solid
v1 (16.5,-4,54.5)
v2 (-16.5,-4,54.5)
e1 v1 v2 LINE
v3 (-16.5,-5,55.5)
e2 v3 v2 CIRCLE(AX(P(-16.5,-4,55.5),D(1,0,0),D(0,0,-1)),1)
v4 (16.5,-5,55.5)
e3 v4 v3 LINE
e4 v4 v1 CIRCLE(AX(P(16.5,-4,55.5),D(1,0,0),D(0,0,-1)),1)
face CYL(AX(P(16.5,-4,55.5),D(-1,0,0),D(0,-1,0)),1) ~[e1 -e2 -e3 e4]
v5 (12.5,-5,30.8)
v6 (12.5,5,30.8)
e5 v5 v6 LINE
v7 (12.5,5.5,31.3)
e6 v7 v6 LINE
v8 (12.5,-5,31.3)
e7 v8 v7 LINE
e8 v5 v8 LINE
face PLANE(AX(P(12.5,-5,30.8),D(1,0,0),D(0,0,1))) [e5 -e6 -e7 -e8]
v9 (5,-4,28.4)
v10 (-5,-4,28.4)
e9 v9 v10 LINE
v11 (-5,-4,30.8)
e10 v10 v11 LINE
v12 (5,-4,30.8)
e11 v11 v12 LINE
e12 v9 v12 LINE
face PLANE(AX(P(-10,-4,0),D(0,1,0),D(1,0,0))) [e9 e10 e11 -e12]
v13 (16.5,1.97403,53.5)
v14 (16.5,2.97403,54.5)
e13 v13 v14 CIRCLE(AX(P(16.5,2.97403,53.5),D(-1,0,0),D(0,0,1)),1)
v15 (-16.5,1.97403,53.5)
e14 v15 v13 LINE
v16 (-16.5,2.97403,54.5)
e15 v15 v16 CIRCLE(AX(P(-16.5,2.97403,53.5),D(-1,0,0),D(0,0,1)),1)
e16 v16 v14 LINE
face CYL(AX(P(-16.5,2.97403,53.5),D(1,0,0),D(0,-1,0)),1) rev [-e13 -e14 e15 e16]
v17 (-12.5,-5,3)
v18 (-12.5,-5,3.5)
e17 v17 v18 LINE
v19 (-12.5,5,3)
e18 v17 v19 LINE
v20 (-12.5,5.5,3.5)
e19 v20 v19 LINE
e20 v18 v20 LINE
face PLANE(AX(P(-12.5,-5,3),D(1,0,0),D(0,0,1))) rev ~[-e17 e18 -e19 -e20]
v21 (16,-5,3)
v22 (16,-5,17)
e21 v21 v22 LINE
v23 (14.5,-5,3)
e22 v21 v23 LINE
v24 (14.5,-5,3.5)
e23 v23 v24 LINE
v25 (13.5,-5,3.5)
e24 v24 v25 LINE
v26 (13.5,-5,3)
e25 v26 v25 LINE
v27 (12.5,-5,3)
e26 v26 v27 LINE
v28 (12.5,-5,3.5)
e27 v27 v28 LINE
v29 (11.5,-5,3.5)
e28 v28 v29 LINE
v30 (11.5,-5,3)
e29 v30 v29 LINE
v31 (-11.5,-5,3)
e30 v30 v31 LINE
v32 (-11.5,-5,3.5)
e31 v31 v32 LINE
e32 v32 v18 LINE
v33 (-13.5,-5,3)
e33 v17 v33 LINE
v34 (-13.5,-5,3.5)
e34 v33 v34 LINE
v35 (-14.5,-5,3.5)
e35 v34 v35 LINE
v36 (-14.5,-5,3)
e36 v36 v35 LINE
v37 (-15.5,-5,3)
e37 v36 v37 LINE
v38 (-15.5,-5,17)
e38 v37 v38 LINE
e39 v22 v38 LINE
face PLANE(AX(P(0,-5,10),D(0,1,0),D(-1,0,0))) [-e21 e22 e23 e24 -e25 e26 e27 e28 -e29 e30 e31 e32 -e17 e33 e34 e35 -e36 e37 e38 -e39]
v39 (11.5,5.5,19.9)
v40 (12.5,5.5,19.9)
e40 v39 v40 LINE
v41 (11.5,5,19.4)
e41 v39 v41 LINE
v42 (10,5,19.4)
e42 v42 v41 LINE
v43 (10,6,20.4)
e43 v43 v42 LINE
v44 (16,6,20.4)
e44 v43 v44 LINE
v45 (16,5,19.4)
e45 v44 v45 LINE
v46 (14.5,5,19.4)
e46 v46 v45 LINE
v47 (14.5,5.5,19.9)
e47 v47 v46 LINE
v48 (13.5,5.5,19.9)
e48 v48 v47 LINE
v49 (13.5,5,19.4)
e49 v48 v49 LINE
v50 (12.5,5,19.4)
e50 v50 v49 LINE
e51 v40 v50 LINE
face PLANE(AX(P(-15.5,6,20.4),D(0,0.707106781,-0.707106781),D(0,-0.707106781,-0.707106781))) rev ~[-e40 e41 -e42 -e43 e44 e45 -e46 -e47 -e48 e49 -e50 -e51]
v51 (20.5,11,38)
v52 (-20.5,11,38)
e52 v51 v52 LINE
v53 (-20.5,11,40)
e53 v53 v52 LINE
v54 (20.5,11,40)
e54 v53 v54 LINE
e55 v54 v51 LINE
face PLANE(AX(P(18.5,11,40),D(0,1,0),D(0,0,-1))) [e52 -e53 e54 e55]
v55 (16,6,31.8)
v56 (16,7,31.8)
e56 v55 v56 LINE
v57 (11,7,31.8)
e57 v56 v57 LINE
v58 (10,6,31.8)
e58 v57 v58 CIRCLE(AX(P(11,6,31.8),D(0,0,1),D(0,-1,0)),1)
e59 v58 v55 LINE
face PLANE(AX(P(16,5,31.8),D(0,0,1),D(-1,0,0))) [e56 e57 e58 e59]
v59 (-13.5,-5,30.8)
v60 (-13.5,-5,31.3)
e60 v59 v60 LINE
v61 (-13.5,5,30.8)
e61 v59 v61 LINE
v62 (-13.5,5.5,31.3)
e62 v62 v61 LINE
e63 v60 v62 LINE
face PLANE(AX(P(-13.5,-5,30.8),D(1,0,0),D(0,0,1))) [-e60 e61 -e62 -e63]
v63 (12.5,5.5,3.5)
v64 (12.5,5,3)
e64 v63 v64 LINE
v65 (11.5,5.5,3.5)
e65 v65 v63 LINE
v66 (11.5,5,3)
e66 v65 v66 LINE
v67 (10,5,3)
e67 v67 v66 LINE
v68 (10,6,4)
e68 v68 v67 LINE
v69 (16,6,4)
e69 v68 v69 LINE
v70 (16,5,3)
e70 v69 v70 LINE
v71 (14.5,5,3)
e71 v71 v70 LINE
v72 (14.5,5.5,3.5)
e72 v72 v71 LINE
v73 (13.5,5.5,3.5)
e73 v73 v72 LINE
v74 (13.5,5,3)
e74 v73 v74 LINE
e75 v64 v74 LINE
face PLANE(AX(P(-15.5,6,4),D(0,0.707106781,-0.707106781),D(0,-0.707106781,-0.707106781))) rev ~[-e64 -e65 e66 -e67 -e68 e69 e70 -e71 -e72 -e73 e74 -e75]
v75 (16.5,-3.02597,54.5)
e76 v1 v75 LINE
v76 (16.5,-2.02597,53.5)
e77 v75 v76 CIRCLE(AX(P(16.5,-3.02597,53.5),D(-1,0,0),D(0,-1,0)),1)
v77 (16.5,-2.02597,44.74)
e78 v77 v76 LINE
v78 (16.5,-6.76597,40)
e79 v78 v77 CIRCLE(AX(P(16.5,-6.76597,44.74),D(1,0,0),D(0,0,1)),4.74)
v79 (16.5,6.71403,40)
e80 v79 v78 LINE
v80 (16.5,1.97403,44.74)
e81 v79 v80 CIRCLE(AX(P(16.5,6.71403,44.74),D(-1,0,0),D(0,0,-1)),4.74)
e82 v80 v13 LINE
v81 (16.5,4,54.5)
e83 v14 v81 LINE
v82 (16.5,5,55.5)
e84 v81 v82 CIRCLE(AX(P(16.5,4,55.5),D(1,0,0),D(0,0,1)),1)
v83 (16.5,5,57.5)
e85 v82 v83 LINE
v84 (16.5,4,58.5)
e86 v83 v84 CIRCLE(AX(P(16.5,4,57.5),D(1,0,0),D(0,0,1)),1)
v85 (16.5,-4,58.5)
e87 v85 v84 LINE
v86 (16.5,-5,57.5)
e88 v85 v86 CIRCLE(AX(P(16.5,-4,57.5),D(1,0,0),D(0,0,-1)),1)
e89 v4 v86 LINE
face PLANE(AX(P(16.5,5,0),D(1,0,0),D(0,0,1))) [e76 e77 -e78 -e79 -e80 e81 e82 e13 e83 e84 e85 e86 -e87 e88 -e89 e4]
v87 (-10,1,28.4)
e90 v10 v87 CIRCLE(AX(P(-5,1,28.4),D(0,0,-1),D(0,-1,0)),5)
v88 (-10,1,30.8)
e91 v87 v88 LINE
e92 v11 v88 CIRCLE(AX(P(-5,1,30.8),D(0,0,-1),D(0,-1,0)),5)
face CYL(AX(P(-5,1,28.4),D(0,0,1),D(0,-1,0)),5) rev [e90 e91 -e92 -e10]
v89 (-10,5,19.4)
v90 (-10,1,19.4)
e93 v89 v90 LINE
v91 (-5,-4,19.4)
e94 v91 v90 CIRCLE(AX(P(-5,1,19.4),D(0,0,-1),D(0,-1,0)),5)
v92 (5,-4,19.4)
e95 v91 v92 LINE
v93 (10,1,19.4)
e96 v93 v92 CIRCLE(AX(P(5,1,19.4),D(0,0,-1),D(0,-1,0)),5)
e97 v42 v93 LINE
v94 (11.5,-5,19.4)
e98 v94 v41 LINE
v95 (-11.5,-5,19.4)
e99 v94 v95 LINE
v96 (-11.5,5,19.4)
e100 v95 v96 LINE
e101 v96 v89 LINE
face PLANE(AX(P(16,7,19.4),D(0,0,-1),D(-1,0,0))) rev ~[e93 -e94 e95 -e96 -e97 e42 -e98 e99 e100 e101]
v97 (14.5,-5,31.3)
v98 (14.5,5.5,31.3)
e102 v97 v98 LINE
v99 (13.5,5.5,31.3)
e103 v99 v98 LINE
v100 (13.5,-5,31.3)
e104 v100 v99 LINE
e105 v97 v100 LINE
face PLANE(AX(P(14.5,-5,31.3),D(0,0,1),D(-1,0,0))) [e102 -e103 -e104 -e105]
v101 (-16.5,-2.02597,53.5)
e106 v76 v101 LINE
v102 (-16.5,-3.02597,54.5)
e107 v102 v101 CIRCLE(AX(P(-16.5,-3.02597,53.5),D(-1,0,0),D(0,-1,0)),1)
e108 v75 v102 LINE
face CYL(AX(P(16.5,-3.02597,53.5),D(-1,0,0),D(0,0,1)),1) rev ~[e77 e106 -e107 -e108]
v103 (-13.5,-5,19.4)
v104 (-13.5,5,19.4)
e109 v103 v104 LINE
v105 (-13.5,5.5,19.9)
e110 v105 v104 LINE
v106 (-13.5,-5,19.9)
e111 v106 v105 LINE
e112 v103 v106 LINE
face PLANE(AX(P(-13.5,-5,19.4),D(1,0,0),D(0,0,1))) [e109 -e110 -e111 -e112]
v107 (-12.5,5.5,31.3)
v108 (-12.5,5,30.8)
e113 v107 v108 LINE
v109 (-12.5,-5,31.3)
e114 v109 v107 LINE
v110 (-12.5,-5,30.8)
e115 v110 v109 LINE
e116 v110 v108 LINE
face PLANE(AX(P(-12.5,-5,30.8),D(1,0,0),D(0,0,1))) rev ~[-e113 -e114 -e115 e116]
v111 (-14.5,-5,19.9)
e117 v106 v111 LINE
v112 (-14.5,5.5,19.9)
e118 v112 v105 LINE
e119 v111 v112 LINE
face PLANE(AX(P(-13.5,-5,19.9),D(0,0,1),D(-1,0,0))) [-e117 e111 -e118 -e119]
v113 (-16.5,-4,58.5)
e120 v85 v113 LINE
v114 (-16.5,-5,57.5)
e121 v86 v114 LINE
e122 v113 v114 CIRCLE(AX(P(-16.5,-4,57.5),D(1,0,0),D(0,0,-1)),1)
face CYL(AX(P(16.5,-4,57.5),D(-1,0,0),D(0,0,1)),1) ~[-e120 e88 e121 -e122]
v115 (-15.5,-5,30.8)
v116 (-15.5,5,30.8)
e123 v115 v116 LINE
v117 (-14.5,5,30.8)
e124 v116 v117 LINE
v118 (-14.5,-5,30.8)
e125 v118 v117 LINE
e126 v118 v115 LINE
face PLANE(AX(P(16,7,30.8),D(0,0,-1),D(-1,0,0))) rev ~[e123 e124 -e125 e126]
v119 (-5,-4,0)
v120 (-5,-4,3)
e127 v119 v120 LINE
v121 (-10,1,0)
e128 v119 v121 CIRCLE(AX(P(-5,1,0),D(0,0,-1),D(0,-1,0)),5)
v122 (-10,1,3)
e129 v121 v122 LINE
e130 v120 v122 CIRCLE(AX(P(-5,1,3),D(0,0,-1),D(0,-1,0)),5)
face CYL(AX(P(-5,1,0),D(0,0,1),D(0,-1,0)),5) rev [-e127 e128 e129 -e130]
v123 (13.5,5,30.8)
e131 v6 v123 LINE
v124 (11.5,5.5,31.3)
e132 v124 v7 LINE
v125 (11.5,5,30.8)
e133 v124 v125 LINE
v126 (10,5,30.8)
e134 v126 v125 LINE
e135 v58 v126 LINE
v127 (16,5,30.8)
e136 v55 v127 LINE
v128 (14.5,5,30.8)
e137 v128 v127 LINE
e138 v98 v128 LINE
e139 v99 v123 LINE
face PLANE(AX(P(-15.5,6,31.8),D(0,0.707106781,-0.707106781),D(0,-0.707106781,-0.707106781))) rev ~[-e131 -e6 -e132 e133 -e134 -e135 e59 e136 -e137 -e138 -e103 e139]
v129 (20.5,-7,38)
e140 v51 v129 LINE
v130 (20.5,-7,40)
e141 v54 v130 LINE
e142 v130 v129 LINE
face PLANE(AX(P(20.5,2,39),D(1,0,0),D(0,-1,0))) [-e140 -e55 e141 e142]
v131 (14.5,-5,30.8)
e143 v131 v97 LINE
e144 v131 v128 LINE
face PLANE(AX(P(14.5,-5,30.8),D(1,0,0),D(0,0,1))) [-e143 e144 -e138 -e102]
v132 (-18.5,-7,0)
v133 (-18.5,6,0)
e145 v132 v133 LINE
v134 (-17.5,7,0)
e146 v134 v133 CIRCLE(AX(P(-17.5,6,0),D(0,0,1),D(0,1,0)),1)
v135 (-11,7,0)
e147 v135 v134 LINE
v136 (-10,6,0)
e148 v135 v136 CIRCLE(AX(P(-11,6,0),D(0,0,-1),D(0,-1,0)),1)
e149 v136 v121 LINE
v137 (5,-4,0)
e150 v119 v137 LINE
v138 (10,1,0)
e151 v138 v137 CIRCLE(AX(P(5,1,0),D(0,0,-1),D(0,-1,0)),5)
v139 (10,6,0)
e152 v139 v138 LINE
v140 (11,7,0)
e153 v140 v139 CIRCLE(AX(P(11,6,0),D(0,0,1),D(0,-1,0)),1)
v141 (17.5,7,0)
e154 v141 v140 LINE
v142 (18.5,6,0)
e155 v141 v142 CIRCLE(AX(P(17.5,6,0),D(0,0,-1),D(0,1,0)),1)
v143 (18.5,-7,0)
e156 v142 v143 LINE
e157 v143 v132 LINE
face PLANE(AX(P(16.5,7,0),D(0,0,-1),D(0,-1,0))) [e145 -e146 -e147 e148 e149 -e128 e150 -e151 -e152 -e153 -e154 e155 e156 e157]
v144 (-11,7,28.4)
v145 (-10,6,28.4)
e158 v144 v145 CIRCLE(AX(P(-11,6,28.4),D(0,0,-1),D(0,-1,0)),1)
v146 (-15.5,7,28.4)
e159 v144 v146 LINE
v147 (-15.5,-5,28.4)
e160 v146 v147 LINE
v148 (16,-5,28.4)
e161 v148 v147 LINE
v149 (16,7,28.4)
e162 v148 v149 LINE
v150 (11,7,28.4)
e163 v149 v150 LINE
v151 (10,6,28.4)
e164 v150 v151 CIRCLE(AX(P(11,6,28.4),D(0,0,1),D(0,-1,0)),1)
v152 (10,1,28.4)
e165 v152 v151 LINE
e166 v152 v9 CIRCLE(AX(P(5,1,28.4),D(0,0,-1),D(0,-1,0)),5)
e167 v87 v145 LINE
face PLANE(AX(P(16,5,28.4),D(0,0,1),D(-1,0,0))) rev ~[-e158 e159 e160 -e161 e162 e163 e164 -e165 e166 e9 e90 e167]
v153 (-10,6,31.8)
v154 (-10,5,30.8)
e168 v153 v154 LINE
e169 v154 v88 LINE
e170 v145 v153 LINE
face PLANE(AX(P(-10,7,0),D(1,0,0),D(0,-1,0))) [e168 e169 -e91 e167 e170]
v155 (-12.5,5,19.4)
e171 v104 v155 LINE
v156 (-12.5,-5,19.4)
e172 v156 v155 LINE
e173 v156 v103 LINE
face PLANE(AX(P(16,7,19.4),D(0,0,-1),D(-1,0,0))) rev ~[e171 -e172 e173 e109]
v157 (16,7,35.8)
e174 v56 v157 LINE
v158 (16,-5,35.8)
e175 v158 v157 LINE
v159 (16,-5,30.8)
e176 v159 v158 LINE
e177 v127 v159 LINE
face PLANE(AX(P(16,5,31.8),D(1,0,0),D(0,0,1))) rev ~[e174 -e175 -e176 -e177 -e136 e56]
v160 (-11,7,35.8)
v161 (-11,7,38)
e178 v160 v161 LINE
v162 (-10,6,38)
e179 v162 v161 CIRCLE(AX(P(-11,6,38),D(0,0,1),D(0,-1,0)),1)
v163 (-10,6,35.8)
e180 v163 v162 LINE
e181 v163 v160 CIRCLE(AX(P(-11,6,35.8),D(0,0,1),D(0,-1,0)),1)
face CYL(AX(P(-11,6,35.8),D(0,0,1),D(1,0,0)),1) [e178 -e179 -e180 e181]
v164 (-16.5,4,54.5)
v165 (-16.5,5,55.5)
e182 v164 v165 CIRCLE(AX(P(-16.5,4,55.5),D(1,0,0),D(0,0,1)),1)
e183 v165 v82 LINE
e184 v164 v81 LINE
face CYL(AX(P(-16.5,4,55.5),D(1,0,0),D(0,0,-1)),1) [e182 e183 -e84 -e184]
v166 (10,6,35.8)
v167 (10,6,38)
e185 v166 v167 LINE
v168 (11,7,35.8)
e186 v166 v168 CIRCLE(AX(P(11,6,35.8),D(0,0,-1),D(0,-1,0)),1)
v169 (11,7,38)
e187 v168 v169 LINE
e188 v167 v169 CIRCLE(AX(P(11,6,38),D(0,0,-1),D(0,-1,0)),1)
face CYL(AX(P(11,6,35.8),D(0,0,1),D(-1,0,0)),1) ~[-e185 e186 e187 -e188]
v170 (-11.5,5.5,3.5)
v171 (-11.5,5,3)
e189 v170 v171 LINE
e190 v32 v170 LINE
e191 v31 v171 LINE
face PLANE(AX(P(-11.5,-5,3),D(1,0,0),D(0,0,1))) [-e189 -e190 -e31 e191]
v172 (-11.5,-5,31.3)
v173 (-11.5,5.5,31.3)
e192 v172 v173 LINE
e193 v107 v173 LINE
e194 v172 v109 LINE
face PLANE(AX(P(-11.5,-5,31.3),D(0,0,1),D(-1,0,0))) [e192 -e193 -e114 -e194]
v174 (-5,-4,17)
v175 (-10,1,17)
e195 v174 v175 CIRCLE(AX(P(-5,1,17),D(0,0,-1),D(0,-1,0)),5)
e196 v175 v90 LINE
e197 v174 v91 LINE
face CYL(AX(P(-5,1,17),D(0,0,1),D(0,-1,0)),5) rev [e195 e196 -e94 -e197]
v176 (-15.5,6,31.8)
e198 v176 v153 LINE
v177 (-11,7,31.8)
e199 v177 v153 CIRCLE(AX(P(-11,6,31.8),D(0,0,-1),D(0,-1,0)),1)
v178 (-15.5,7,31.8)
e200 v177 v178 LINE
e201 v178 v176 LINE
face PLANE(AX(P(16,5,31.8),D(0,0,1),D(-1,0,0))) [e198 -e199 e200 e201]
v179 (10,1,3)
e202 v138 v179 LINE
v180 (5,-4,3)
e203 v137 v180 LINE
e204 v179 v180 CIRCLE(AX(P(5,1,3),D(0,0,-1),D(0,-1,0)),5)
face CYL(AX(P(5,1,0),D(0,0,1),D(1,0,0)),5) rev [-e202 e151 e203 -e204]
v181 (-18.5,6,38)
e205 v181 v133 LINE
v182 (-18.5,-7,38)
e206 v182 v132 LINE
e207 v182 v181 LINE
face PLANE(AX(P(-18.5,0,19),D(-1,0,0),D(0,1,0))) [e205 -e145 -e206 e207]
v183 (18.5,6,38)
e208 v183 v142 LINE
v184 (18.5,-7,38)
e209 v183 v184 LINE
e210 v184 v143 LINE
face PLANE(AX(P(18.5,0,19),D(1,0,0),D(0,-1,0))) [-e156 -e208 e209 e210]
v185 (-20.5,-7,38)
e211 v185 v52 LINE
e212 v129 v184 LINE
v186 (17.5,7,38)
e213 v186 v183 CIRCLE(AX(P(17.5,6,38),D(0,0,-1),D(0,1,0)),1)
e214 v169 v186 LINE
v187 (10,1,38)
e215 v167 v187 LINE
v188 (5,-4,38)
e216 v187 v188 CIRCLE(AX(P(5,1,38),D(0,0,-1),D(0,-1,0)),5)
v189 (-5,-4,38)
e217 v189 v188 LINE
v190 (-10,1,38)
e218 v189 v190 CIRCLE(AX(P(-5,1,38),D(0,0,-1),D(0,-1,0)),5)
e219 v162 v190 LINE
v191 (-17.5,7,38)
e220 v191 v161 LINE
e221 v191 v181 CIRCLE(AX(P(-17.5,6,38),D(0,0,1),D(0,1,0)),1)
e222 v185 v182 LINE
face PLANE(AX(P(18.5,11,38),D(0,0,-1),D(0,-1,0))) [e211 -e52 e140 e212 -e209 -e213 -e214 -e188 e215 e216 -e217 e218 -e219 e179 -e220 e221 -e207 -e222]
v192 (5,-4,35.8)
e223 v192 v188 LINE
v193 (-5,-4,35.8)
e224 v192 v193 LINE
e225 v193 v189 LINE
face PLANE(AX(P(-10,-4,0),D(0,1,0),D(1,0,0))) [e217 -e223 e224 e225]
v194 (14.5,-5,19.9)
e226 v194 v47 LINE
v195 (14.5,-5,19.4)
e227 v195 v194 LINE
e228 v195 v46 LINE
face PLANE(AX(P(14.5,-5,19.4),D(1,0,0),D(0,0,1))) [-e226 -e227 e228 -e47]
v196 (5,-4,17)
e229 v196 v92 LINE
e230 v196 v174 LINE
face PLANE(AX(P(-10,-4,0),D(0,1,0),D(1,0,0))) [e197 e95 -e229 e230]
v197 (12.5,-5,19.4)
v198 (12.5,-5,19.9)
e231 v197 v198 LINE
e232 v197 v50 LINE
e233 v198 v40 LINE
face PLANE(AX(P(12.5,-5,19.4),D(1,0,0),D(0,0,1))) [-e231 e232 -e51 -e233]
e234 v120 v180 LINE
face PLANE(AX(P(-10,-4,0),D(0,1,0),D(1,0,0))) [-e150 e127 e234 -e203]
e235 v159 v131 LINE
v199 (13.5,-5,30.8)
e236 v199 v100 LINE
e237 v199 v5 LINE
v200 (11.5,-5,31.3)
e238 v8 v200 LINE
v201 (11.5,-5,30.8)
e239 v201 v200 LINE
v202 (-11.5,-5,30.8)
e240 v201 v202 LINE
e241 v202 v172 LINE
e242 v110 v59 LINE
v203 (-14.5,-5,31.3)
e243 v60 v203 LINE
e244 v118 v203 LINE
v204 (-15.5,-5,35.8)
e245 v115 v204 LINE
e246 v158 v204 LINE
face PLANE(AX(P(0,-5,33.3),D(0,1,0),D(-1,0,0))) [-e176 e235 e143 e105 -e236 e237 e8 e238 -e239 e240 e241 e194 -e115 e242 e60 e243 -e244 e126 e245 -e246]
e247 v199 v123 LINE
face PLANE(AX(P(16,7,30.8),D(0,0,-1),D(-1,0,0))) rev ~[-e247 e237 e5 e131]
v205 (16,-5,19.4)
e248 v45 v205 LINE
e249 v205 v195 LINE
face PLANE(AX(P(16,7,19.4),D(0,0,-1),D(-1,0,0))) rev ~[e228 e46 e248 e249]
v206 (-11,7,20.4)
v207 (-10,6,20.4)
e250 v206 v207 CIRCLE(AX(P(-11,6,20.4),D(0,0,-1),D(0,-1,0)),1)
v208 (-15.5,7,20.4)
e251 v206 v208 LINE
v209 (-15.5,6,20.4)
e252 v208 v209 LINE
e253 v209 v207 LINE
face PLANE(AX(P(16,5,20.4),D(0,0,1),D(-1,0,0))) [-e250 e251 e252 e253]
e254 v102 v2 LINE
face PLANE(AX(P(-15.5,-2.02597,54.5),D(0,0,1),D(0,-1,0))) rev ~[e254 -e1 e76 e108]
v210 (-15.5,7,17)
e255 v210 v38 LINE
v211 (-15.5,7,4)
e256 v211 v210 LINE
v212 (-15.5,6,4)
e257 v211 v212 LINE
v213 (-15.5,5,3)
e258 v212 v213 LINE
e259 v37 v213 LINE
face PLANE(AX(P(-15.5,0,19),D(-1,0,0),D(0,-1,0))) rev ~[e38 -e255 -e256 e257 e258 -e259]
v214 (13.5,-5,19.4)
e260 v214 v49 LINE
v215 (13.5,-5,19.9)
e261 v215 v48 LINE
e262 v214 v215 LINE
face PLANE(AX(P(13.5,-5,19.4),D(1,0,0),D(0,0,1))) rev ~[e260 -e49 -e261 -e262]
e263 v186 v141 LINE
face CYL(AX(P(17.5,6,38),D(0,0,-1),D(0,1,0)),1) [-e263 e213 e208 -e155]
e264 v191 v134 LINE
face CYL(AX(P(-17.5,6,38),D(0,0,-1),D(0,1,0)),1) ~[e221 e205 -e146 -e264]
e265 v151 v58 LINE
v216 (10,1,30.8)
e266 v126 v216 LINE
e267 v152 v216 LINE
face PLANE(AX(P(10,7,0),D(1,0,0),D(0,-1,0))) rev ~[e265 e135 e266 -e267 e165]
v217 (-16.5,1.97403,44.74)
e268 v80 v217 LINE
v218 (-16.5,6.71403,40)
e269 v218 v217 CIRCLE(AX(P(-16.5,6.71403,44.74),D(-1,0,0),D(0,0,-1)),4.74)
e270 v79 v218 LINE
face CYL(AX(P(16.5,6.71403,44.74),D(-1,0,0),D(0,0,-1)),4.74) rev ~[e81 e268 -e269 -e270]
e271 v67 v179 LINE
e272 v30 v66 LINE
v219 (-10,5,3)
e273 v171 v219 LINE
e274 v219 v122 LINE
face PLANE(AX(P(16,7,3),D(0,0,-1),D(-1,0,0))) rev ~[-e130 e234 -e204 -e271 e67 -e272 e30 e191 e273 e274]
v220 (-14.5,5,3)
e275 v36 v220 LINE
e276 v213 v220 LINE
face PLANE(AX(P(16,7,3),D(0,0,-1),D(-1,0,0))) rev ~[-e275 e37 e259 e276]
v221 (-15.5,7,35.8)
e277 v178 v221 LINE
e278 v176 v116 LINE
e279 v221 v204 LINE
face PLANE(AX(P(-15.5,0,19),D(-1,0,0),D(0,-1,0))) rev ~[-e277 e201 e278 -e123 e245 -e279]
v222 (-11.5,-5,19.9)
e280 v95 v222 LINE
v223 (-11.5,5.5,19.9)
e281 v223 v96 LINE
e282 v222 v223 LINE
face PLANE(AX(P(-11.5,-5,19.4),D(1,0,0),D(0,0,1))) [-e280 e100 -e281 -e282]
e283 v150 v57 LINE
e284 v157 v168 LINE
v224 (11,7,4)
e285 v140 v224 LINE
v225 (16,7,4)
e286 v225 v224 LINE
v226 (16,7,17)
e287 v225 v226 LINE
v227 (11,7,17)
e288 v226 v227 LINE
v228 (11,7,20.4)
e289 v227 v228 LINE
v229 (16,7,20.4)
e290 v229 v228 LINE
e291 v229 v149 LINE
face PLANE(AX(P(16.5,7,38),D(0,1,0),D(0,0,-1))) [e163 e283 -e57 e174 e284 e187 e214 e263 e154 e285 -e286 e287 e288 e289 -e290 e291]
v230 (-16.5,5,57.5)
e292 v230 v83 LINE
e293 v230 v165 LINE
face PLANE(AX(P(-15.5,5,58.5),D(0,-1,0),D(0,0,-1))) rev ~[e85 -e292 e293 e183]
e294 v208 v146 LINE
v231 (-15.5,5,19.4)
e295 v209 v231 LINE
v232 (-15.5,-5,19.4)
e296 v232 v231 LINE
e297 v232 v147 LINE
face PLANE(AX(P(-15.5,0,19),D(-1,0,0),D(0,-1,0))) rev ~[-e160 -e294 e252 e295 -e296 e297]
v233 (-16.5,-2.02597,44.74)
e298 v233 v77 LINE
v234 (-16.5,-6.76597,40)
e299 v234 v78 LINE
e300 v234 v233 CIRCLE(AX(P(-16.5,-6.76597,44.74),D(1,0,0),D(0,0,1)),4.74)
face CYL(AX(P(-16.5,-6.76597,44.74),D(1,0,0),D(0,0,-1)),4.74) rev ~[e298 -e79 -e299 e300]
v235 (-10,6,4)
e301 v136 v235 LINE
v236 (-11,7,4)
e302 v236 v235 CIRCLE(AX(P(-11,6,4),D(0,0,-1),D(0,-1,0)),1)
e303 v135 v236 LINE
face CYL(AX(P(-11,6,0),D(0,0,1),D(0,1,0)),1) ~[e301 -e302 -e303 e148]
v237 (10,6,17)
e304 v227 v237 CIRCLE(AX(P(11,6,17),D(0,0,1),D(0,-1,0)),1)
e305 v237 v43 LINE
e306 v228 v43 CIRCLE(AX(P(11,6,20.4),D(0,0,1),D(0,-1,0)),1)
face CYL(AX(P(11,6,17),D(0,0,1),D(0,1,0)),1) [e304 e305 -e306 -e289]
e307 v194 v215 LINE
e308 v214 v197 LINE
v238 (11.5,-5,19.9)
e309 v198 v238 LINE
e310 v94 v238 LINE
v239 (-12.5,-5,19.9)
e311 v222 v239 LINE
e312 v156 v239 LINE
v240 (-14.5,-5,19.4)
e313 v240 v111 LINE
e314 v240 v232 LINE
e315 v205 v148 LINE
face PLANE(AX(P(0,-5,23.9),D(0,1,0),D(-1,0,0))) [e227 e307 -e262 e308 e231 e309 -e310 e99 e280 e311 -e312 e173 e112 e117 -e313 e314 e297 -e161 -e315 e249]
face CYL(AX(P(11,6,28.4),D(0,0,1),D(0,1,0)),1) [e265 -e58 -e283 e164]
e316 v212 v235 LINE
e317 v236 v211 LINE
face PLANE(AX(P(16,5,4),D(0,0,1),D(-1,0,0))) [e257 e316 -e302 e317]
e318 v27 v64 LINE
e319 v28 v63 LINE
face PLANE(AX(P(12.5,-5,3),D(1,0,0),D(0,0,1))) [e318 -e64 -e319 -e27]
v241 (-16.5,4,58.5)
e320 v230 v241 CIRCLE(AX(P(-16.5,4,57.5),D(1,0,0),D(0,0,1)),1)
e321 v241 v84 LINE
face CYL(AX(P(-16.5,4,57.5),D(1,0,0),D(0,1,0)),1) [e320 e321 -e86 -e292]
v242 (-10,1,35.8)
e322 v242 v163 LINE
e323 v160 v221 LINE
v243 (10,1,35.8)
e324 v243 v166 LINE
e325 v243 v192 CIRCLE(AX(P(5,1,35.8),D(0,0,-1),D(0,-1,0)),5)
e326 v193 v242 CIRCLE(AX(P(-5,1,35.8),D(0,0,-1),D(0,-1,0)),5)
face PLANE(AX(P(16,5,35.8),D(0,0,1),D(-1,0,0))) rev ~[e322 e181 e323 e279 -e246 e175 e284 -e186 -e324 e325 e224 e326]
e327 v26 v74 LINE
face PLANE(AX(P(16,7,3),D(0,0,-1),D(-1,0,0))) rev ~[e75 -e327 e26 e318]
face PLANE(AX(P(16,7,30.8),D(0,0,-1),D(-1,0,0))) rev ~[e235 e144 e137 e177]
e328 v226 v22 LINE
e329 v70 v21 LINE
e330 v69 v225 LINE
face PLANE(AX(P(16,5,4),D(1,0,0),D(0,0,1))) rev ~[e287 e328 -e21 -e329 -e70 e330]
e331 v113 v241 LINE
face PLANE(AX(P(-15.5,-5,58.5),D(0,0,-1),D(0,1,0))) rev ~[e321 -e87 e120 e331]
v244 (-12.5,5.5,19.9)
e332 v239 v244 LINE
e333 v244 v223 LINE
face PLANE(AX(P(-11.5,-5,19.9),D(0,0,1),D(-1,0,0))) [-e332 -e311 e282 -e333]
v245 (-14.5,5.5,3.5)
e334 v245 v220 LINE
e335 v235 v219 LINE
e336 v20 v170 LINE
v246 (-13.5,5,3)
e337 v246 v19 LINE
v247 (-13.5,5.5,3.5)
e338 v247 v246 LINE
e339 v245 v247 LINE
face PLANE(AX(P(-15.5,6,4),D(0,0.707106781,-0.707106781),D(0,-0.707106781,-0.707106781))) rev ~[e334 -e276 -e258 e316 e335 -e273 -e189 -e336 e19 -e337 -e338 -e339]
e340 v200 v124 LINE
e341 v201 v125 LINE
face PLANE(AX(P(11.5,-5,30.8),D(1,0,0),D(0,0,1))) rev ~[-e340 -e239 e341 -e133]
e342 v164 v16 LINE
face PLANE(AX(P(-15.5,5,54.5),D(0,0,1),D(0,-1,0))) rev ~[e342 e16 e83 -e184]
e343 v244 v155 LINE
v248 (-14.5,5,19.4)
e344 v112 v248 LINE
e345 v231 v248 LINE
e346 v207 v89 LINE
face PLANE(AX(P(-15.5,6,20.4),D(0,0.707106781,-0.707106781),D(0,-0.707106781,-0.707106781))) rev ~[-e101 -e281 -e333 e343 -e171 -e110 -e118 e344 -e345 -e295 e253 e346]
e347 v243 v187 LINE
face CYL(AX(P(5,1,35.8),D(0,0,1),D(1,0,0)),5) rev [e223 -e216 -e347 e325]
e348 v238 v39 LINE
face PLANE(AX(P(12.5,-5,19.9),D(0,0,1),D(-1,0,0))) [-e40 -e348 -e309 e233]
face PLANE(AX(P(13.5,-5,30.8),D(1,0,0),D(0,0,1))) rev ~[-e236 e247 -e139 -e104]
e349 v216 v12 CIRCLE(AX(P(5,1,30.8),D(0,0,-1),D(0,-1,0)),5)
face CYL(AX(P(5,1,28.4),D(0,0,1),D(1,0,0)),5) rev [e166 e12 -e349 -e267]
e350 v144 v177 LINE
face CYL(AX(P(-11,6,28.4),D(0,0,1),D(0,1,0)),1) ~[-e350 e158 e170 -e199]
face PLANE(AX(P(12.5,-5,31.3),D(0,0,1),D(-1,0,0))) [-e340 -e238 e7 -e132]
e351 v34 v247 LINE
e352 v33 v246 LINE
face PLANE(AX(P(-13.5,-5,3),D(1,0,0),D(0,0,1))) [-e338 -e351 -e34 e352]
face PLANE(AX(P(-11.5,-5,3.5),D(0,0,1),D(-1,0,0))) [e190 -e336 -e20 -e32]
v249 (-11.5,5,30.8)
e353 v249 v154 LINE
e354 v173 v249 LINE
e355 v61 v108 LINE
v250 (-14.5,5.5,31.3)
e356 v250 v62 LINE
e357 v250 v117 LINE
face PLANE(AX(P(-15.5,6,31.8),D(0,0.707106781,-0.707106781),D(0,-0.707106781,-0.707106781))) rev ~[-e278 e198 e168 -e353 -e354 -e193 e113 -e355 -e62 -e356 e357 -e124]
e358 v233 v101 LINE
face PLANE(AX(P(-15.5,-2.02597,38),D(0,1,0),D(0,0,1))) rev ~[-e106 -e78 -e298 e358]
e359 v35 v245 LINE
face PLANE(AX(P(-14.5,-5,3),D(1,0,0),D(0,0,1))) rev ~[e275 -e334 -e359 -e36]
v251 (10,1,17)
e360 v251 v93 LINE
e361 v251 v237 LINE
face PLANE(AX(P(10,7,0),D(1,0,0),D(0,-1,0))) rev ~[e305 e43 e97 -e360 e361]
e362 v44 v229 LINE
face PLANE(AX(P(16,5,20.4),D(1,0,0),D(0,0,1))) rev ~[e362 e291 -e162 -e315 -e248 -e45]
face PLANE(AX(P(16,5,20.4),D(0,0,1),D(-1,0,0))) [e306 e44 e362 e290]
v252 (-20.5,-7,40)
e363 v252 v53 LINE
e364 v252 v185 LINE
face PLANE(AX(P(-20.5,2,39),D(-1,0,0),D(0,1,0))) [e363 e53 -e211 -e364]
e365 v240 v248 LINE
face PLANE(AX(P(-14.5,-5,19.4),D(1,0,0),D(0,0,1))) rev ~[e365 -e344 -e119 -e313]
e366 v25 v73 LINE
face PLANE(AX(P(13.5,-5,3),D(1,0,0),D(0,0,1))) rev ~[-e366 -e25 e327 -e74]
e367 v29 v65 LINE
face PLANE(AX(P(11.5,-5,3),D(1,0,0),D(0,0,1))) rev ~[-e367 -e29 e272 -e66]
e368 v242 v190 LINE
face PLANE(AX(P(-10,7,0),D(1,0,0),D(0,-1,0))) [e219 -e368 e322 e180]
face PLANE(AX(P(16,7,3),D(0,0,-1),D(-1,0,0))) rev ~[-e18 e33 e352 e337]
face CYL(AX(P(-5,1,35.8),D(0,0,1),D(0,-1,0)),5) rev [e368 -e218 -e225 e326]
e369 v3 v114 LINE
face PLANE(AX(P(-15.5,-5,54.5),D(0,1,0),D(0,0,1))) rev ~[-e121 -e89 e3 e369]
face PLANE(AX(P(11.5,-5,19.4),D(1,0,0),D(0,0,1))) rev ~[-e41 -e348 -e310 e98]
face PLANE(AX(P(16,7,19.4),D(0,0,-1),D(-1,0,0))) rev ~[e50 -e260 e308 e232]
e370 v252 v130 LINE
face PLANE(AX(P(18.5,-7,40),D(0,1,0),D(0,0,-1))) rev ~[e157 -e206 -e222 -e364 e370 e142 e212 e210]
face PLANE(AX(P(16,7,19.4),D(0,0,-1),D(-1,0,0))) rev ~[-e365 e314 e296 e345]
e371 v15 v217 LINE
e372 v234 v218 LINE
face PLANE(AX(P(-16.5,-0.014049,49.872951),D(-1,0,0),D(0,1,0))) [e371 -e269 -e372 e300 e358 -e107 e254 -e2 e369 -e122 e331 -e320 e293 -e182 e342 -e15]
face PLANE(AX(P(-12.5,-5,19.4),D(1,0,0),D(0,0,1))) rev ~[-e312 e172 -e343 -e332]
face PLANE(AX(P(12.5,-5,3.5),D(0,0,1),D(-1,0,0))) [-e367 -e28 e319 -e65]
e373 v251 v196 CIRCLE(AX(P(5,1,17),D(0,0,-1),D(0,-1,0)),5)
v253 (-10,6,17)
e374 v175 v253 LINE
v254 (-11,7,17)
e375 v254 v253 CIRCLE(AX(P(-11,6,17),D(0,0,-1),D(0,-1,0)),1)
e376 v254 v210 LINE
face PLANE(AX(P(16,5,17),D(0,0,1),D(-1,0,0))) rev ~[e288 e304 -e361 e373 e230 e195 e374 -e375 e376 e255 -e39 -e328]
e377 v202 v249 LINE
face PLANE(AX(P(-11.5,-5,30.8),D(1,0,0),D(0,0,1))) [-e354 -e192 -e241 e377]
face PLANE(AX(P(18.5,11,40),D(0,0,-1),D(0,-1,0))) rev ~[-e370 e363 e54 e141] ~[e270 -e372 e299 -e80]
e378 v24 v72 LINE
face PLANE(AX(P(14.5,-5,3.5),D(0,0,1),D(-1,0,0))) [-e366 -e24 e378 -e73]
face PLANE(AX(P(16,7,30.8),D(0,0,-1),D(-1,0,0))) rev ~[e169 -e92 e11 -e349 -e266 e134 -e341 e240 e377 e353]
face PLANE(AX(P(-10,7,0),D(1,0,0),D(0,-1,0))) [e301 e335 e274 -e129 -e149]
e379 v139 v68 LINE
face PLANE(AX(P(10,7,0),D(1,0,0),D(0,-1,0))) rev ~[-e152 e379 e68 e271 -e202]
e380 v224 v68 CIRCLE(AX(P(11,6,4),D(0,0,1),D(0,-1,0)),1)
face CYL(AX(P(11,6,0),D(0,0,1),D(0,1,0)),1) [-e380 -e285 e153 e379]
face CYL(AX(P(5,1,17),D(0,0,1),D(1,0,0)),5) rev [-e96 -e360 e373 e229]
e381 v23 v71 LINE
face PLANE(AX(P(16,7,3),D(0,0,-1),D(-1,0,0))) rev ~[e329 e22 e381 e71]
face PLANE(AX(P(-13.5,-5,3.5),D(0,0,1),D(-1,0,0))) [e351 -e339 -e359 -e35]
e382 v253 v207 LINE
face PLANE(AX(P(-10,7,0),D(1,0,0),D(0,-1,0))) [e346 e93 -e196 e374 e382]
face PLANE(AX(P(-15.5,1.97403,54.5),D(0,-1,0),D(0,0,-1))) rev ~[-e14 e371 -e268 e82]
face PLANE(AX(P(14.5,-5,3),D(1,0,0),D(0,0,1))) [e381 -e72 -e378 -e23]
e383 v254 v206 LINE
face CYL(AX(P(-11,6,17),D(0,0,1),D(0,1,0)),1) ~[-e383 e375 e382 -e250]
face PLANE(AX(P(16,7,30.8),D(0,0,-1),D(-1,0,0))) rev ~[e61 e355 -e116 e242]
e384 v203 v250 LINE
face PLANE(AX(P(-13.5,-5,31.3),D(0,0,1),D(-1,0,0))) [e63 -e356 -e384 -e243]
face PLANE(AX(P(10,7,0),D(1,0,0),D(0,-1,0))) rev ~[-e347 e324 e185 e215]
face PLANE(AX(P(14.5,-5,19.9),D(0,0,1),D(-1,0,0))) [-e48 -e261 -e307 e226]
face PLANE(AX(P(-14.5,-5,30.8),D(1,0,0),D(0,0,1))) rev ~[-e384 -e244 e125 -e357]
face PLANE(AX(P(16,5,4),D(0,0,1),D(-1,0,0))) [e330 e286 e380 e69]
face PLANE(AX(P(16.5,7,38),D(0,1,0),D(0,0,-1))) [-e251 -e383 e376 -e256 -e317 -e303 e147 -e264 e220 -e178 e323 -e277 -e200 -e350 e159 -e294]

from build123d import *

# Parameters (mm, degrees)
SKETCH_W           = 33
SKETCH_H           = 14
PAD_DEPTH          = 38
SKETCH001_W        = 4
SKETCH001_H        = 58.5
PAD001_DEPTH       = 33
SKETCH002_W        = 10
SKETCH002_H        = 4
PAD002_DEPTH       = 33
SKETCH003_W        = 32
SKETCH003_H        = 5
SKETCH003_H_2      = 9
SKETCH003_H_3      = 14
POCKET_DEPTH       = 12
POCKET_FACE14_W    = 33
POCKET_FACE14_H    = 38
POCKET_FACE14_W_2  = 32
POCKET_FACE14_H_2  = 5
POCKET_FACE14_H_3  = 9
POCKET_FACE14_H_4  = 14
POCKET001_DEPTH    = 2
SKETCH004_W        = 33
SKETCH004_H        = 38
SKETCH004_W_2      = 32
SKETCH004_H_2      = 4
SKETCH004_H_3      = 8
SKETCH004_H_4      = 13
PAD003_DEPTH       = 2
POCKET002_DEPTH    = 1
POCKET003_DEPTH    = 31.5
SKETCH006_W        = 14
SKETCH006_H        = 38
PAD004_DEPTH       = 1
PAD005_DEPTH       = 1
SKETCH007_W        = 37
SKETCH007_H        = 14
PAD006_DEPTH       = 2
SKETCH008_W        = 37
SKETCH008_H        = 2
PAD007_DEPTH       = 4
FILLET_R           = 4.74
FILLET001_R        = 4.74
FILLET002_R        = 1
FILLET003_R        = 1
FILLET004_R        = 1
FILLET005_R        = 1
FILLET005_FACE22_W = 18
FILLET005_FACE22_H = 2
PAD008_DEPTH       = 2
PAD008_FACE3_W     = 14
PAD008_FACE3_H     = 38
PAD009_DEPTH       = 2
PAD009_FACE3_W     = 18
PAD009_FACE3_H     = 2
PAD010_DEPTH       = 2
PAD010_FACE1_W     = 14
PAD010_FACE1_H     = 38
PAD011_DEPTH       = 2
SKETCH009_W        = 20
SKETCH009_H        = 11
POCKET004_DEPTH    = 38
FILLET006_R        = 5
FILLET007_R        = 1
FILLET008_R        = 1
SKETCH010_W        = 1
SKETCH010_H        = 0.5
PAD012_DEPTH       = 12


with BuildPart() as part:
    # Sketch → Pad (new body)
    with BuildSketch(Plane.XY):
        Rectangle(SKETCH_W, SKETCH_H)
    extrude(amount=PAD_DEPTH)

    # Sketch001 (on Face2 of Pad) → Pad001 (join)
    with BuildSketch(Plane.YZ.offset(16.5)):
        with Locations((-0.02597, 29.25)):
            Rectangle(SKETCH001_W, SKETCH001_H)
    extrude(amount=-PAD001_DEPTH)

    # Sketch002 (on Face9 of Pad001) → Pad002 (join)
    with BuildSketch(Plane.YZ.offset(16.5)):
        with Locations((0, 56.5)):
            Rectangle(SKETCH002_W, SKETCH002_H)
    extrude(amount=-PAD002_DEPTH)

    # Sketch003 (on Face4 of Pad002) → Pocket (cut)
    with BuildSketch(Plane(origin=(0, 7, 0), x_dir=(-1, 0, 0), z_dir=(0, 1, 0))):
        with Locations((0, 33.3)):
            Rectangle(SKETCH003_W, SKETCH003_H)
        with Locations((0, 23.9)):
            Rectangle(SKETCH003_W, SKETCH003_H_2)
        with Locations((0, 10)):
            Rectangle(SKETCH003_W, SKETCH003_H_3)
    extrude(amount=-POCKET_DEPTH, mode=Mode.SUBTRACT)

    # Pocket Face14 → Pocket001 (cut)
    with BuildSketch(Plane(origin=(0, 7, 19.929609), x_dir=(1, 0, 0), z_dir=(0, 1, 0))):
        with Locations((0, 0.929609)):
            Rectangle(POCKET_FACE14_W, POCKET_FACE14_H)
        with Locations((0, -13.370391)):
            Rectangle(POCKET_FACE14_W_2, POCKET_FACE14_H_2, mode=Mode.SUBTRACT)
        with Locations((0, -3.970391)):
            Rectangle(POCKET_FACE14_W_2, POCKET_FACE14_H_3, mode=Mode.SUBTRACT)
        with Locations((0, 9.929609)):
            Rectangle(POCKET_FACE14_W_2, POCKET_FACE14_H_4, mode=Mode.SUBTRACT)
    extrude(amount=-POCKET001_DEPTH, mode=Mode.SUBTRACT)

    # Sketch004 (on Face6 of Pocket001) → Pad003 (join)
    with BuildSketch(Plane(origin=(0, 5, 0), x_dir=(-1, 0, 0), z_dir=(0, 1, 0))):
        with Locations((0, 19)):
            Rectangle(SKETCH004_W, SKETCH004_H)
        with Locations((0, 33.8)):
            Rectangle(SKETCH004_W_2, SKETCH004_H_2, mode=Mode.SUBTRACT)
        with Locations((0, 24.4)):
            Rectangle(SKETCH004_W_2, SKETCH004_H_3, mode=Mode.SUBTRACT)
        with Locations((0, 10.5)):
            Rectangle(SKETCH004_W_2, SKETCH004_H_4, mode=Mode.SUBTRACT)
    extrude(amount=PAD003_DEPTH)

    # Pad003 Face14 → Pocket002 (cut)
    with BuildSketch(Plane(origin=(-16.5, -0.002687, 24.170063), x_dir=(0, 1, 0), z_dir=(-1, 0, 0))):
        Polygon((1.976717, -13.829937), (7.002687, -13.829937), (7.002687, 24.170063), (-6.997313, 24.170063), (-6.997313, -13.829937), (-2.023283, -13.829937), (-2.023283, -30.329937), (-4.997313, -30.329937), (-4.997313, -34.329937), (5.002687, -34.329937), (5.002687, -30.329937), (1.976717, -30.329937), align=None)
    extrude(amount=-POCKET002_DEPTH, mode=Mode.SUBTRACT)

    # Sketch005 (on Face4 of Pocket002) → Pocket003 (cut)
    with BuildSketch(Plane(origin=(-15.5, 0, 0), x_dir=(0, -1, 0), z_dir=(-1, 0, 0))):
        Polygon((-5, 3), (-5, 4), (-6, 4), align=None)
        Polygon((-5, 19.4), (-5, 20.4), (-6, 20.4), align=None)
        Polygon((-5, 30.8), (-5, 31.8), (-6, 31.8), align=None)
    extrude(amount=-POCKET003_DEPTH, mode=Mode.SUBTRACT)

    # Sketch006 (on Face4 of Pocket003) → Pad004 (join)
    with BuildSketch(Plane(origin=(-15.5, 0, 0), x_dir=(0, -1, 0), z_dir=(-1, 0, 0))):
        with Locations((0, 19)):
            Rectangle(SKETCH006_W, SKETCH006_H)
    extrude(amount=PAD004_DEPTH)

    # Pad004 Face9 → Pad005 (add)
    with BuildSketch(Plane(origin=(-15.5, -0.01617, 50.117925), x_dir=(0, 1, 0), z_dir=(-1, 0, 0))):
        Polygon((1.9902, -4.382075), (1.9902, 12.117925), (-2.0098, 12.117925), (-2.0098, -4.382075), (-4.98383, -4.382075), (-4.98383, -8.382075), (5.01617, -8.382075), (5.01617, -4.382075), align=None)
    extrude(amount=PAD005_DEPTH)

    # Sketch007 (on Face5 of Pad005) → Pad006 (join)
    with BuildSketch(Plane.XY.offset(38)):
        Rectangle(SKETCH007_W, SKETCH007_H)
    extrude(amount=PAD006_DEPTH)

    # Sketch008 (on Face19 of Pad006) → Pad007 (join)
    with BuildSketch(Plane(origin=(0, 7, 0), x_dir=(-1, 0, 0), z_dir=(0, 1, 0))):
        with Locations((0, 39)):
            Rectangle(SKETCH008_W, SKETCH008_H)
    extrude(amount=PAD007_DEPTH)

    # Fillet
    fillet_edges = [part.edges().sort_by_distance(p)[0] for p in [
        (0, -2.02597, 40),
    ]]
    fillet(fillet_edges, radius=FILLET_R)

    # Fillet001
    fillet001_edges = [part.edges().sort_by_distance(p)[0] for p in [
        (0, 1.97403, 40),
    ]]
    fillet(fillet001_edges, radius=FILLET001_R)

    # Fillet002
    fillet002_edges = [part.edges().sort_by_distance(p)[0] for p in [
        (0, -2.02597, 54.5),
    ]]
    fillet(fillet002_edges, radius=FILLET002_R)

    # Fillet003
    fillet003_edges = [part.edges().sort_by_distance(p)[0] for p in [
        (0, 1.97403, 54.5),
    ]]
    fillet(fillet003_edges, radius=FILLET003_R)

    # Fillet004
    fillet004_edges = [part.edges().sort_by_distance(p)[0] for p in [
        (0, 5, 54.5),
        (0, 5, 58.5),
    ]]
    fillet(fillet004_edges, radius=FILLET004_R)

    # Fillet005
    fillet005_edges = [part.edges().sort_by_distance(p)[0] for p in [
        (0, -5, 58.5),
        (0, -5, 54.5),
    ]]
    fillet(fillet005_edges, radius=FILLET005_R)

    # Fillet005 Face22 → Pad008 (add)
    with BuildSketch(Plane(origin=(-18.5, 2, 39), x_dir=(0, 1, 0), z_dir=(-1, 0, 0))):
        Rectangle(FILLET005_FACE22_W, FILLET005_FACE22_H)
    extrude(amount=PAD008_DEPTH)

    # Pad008 Face3 → Pad009 (add)
    with BuildSketch(Plane(origin=(-16.5, 0, 19), x_dir=(0, 1, 0), z_dir=(-1, 0, 0))):
        Rectangle(PAD008_FACE3_W, PAD008_FACE3_H)
    extrude(amount=PAD009_DEPTH)

    # Pad009 Face3 → Pad010 (add)
    with BuildSketch(Plane(origin=(18.5, 2, 39), x_dir=(0, -1, 0), z_dir=(1, 0, 0))):
        Rectangle(PAD009_FACE3_W, PAD009_FACE3_H)
    extrude(amount=PAD010_DEPTH)

    # Pad010 Face1 → Pad011 (add)
    with BuildSketch(Plane(origin=(16.5, 0, 19), x_dir=(0, -1, 0), z_dir=(1, 0, 0))):
        Rectangle(PAD010_FACE1_W, PAD010_FACE1_H)
    extrude(amount=PAD011_DEPTH)

    # Sketch009 (on Face47 of Pad011) → Pocket004 (cut)
    with BuildSketch(Plane(origin=(0, 0, 0), x_dir=(1, 0, 0), z_dir=(0, 0, -1))):
        with Locations((0, -1.5)):
            Rectangle(SKETCH009_W, SKETCH009_H)
    extrude(amount=-POCKET004_DEPTH, mode=Mode.SUBTRACT)

    # Fillet006
    fillet006_edges = [part.edges().sort_by_distance(p)[0] for p in [
        (-10, -4, 36.9),
        (-10, -4, 29.6),
        (-10, -4, 18.2),
        (-10, -4, 1.5),
        (10, -4, 36.9),
        (10, -4, 29.6),
        (10, -4, 18.2),
        (10, -4, 1.5),
    ]]
    fillet(fillet006_edges, radius=FILLET006_R)

    # Fillet007
    fillet007_edges = [part.edges().sort_by_distance(p)[0] for p in [
        (-10, 7, 36.9),
        (-10, 7, 30.1),
        (-10, 7, 18.7),
        (-10, 7, 2),
        (10, 7, 36.9),
        (10, 7, 30.1),
        (10, 7, 18.7),
        (10, 7, 2),
    ]]
    fillet(fillet007_edges, radius=FILLET007_R)

    # Fillet008
    fillet008_edges = [part.edges().sort_by_distance(p)[0] for p in [
        (18.5, 7, 19),
        (-18.5, 7, 19),
    ]]
    fillet(fillet008_edges, radius=FILLET008_R)

    # Sketch010 (on Face53 of Fillet008) → Pad012 (join)
    with BuildSketch(Plane(origin=(0, -5, 0), x_dir=(-1, 0, 0), z_dir=(0, 1, 0))):
        with Locations((-14, 31.05)):
            Rectangle(SKETCH010_W, SKETCH010_H)
        with Locations((14, 3.25)):
            Rectangle(SKETCH010_W, SKETCH010_H)
        with Locations((12, 3.25)):
            Rectangle(SKETCH010_W, SKETCH010_H)
        with Locations((-12, 3.25)):
            Rectangle(SKETCH010_W, SKETCH010_H)
        with Locations((-14, 3.25)):
            Rectangle(SKETCH010_W, SKETCH010_H)
        with Locations((-14, 19.65)):
            Rectangle(SKETCH010_W, SKETCH010_H)
        with Locations((14, 19.65)):
            Rectangle(SKETCH010_W, SKETCH010_H)
        with Locations((12, 19.65)):
            Rectangle(SKETCH010_W, SKETCH010_H)
        with Locations((-12, 19.65)):
            Rectangle(SKETCH010_W, SKETCH010_H)
        with Locations((-12, 31.05)):
            Rectangle(SKETCH010_W, SKETCH010_H)
        with Locations((12, 31.05)):
            Rectangle(SKETCH010_W, SKETCH010_H)
        with Locations((14, 31.05)):
            Rectangle(SKETCH010_W, SKETCH010_H)
    extrude(amount=PAD012_DEPTH)


solid = part.part
